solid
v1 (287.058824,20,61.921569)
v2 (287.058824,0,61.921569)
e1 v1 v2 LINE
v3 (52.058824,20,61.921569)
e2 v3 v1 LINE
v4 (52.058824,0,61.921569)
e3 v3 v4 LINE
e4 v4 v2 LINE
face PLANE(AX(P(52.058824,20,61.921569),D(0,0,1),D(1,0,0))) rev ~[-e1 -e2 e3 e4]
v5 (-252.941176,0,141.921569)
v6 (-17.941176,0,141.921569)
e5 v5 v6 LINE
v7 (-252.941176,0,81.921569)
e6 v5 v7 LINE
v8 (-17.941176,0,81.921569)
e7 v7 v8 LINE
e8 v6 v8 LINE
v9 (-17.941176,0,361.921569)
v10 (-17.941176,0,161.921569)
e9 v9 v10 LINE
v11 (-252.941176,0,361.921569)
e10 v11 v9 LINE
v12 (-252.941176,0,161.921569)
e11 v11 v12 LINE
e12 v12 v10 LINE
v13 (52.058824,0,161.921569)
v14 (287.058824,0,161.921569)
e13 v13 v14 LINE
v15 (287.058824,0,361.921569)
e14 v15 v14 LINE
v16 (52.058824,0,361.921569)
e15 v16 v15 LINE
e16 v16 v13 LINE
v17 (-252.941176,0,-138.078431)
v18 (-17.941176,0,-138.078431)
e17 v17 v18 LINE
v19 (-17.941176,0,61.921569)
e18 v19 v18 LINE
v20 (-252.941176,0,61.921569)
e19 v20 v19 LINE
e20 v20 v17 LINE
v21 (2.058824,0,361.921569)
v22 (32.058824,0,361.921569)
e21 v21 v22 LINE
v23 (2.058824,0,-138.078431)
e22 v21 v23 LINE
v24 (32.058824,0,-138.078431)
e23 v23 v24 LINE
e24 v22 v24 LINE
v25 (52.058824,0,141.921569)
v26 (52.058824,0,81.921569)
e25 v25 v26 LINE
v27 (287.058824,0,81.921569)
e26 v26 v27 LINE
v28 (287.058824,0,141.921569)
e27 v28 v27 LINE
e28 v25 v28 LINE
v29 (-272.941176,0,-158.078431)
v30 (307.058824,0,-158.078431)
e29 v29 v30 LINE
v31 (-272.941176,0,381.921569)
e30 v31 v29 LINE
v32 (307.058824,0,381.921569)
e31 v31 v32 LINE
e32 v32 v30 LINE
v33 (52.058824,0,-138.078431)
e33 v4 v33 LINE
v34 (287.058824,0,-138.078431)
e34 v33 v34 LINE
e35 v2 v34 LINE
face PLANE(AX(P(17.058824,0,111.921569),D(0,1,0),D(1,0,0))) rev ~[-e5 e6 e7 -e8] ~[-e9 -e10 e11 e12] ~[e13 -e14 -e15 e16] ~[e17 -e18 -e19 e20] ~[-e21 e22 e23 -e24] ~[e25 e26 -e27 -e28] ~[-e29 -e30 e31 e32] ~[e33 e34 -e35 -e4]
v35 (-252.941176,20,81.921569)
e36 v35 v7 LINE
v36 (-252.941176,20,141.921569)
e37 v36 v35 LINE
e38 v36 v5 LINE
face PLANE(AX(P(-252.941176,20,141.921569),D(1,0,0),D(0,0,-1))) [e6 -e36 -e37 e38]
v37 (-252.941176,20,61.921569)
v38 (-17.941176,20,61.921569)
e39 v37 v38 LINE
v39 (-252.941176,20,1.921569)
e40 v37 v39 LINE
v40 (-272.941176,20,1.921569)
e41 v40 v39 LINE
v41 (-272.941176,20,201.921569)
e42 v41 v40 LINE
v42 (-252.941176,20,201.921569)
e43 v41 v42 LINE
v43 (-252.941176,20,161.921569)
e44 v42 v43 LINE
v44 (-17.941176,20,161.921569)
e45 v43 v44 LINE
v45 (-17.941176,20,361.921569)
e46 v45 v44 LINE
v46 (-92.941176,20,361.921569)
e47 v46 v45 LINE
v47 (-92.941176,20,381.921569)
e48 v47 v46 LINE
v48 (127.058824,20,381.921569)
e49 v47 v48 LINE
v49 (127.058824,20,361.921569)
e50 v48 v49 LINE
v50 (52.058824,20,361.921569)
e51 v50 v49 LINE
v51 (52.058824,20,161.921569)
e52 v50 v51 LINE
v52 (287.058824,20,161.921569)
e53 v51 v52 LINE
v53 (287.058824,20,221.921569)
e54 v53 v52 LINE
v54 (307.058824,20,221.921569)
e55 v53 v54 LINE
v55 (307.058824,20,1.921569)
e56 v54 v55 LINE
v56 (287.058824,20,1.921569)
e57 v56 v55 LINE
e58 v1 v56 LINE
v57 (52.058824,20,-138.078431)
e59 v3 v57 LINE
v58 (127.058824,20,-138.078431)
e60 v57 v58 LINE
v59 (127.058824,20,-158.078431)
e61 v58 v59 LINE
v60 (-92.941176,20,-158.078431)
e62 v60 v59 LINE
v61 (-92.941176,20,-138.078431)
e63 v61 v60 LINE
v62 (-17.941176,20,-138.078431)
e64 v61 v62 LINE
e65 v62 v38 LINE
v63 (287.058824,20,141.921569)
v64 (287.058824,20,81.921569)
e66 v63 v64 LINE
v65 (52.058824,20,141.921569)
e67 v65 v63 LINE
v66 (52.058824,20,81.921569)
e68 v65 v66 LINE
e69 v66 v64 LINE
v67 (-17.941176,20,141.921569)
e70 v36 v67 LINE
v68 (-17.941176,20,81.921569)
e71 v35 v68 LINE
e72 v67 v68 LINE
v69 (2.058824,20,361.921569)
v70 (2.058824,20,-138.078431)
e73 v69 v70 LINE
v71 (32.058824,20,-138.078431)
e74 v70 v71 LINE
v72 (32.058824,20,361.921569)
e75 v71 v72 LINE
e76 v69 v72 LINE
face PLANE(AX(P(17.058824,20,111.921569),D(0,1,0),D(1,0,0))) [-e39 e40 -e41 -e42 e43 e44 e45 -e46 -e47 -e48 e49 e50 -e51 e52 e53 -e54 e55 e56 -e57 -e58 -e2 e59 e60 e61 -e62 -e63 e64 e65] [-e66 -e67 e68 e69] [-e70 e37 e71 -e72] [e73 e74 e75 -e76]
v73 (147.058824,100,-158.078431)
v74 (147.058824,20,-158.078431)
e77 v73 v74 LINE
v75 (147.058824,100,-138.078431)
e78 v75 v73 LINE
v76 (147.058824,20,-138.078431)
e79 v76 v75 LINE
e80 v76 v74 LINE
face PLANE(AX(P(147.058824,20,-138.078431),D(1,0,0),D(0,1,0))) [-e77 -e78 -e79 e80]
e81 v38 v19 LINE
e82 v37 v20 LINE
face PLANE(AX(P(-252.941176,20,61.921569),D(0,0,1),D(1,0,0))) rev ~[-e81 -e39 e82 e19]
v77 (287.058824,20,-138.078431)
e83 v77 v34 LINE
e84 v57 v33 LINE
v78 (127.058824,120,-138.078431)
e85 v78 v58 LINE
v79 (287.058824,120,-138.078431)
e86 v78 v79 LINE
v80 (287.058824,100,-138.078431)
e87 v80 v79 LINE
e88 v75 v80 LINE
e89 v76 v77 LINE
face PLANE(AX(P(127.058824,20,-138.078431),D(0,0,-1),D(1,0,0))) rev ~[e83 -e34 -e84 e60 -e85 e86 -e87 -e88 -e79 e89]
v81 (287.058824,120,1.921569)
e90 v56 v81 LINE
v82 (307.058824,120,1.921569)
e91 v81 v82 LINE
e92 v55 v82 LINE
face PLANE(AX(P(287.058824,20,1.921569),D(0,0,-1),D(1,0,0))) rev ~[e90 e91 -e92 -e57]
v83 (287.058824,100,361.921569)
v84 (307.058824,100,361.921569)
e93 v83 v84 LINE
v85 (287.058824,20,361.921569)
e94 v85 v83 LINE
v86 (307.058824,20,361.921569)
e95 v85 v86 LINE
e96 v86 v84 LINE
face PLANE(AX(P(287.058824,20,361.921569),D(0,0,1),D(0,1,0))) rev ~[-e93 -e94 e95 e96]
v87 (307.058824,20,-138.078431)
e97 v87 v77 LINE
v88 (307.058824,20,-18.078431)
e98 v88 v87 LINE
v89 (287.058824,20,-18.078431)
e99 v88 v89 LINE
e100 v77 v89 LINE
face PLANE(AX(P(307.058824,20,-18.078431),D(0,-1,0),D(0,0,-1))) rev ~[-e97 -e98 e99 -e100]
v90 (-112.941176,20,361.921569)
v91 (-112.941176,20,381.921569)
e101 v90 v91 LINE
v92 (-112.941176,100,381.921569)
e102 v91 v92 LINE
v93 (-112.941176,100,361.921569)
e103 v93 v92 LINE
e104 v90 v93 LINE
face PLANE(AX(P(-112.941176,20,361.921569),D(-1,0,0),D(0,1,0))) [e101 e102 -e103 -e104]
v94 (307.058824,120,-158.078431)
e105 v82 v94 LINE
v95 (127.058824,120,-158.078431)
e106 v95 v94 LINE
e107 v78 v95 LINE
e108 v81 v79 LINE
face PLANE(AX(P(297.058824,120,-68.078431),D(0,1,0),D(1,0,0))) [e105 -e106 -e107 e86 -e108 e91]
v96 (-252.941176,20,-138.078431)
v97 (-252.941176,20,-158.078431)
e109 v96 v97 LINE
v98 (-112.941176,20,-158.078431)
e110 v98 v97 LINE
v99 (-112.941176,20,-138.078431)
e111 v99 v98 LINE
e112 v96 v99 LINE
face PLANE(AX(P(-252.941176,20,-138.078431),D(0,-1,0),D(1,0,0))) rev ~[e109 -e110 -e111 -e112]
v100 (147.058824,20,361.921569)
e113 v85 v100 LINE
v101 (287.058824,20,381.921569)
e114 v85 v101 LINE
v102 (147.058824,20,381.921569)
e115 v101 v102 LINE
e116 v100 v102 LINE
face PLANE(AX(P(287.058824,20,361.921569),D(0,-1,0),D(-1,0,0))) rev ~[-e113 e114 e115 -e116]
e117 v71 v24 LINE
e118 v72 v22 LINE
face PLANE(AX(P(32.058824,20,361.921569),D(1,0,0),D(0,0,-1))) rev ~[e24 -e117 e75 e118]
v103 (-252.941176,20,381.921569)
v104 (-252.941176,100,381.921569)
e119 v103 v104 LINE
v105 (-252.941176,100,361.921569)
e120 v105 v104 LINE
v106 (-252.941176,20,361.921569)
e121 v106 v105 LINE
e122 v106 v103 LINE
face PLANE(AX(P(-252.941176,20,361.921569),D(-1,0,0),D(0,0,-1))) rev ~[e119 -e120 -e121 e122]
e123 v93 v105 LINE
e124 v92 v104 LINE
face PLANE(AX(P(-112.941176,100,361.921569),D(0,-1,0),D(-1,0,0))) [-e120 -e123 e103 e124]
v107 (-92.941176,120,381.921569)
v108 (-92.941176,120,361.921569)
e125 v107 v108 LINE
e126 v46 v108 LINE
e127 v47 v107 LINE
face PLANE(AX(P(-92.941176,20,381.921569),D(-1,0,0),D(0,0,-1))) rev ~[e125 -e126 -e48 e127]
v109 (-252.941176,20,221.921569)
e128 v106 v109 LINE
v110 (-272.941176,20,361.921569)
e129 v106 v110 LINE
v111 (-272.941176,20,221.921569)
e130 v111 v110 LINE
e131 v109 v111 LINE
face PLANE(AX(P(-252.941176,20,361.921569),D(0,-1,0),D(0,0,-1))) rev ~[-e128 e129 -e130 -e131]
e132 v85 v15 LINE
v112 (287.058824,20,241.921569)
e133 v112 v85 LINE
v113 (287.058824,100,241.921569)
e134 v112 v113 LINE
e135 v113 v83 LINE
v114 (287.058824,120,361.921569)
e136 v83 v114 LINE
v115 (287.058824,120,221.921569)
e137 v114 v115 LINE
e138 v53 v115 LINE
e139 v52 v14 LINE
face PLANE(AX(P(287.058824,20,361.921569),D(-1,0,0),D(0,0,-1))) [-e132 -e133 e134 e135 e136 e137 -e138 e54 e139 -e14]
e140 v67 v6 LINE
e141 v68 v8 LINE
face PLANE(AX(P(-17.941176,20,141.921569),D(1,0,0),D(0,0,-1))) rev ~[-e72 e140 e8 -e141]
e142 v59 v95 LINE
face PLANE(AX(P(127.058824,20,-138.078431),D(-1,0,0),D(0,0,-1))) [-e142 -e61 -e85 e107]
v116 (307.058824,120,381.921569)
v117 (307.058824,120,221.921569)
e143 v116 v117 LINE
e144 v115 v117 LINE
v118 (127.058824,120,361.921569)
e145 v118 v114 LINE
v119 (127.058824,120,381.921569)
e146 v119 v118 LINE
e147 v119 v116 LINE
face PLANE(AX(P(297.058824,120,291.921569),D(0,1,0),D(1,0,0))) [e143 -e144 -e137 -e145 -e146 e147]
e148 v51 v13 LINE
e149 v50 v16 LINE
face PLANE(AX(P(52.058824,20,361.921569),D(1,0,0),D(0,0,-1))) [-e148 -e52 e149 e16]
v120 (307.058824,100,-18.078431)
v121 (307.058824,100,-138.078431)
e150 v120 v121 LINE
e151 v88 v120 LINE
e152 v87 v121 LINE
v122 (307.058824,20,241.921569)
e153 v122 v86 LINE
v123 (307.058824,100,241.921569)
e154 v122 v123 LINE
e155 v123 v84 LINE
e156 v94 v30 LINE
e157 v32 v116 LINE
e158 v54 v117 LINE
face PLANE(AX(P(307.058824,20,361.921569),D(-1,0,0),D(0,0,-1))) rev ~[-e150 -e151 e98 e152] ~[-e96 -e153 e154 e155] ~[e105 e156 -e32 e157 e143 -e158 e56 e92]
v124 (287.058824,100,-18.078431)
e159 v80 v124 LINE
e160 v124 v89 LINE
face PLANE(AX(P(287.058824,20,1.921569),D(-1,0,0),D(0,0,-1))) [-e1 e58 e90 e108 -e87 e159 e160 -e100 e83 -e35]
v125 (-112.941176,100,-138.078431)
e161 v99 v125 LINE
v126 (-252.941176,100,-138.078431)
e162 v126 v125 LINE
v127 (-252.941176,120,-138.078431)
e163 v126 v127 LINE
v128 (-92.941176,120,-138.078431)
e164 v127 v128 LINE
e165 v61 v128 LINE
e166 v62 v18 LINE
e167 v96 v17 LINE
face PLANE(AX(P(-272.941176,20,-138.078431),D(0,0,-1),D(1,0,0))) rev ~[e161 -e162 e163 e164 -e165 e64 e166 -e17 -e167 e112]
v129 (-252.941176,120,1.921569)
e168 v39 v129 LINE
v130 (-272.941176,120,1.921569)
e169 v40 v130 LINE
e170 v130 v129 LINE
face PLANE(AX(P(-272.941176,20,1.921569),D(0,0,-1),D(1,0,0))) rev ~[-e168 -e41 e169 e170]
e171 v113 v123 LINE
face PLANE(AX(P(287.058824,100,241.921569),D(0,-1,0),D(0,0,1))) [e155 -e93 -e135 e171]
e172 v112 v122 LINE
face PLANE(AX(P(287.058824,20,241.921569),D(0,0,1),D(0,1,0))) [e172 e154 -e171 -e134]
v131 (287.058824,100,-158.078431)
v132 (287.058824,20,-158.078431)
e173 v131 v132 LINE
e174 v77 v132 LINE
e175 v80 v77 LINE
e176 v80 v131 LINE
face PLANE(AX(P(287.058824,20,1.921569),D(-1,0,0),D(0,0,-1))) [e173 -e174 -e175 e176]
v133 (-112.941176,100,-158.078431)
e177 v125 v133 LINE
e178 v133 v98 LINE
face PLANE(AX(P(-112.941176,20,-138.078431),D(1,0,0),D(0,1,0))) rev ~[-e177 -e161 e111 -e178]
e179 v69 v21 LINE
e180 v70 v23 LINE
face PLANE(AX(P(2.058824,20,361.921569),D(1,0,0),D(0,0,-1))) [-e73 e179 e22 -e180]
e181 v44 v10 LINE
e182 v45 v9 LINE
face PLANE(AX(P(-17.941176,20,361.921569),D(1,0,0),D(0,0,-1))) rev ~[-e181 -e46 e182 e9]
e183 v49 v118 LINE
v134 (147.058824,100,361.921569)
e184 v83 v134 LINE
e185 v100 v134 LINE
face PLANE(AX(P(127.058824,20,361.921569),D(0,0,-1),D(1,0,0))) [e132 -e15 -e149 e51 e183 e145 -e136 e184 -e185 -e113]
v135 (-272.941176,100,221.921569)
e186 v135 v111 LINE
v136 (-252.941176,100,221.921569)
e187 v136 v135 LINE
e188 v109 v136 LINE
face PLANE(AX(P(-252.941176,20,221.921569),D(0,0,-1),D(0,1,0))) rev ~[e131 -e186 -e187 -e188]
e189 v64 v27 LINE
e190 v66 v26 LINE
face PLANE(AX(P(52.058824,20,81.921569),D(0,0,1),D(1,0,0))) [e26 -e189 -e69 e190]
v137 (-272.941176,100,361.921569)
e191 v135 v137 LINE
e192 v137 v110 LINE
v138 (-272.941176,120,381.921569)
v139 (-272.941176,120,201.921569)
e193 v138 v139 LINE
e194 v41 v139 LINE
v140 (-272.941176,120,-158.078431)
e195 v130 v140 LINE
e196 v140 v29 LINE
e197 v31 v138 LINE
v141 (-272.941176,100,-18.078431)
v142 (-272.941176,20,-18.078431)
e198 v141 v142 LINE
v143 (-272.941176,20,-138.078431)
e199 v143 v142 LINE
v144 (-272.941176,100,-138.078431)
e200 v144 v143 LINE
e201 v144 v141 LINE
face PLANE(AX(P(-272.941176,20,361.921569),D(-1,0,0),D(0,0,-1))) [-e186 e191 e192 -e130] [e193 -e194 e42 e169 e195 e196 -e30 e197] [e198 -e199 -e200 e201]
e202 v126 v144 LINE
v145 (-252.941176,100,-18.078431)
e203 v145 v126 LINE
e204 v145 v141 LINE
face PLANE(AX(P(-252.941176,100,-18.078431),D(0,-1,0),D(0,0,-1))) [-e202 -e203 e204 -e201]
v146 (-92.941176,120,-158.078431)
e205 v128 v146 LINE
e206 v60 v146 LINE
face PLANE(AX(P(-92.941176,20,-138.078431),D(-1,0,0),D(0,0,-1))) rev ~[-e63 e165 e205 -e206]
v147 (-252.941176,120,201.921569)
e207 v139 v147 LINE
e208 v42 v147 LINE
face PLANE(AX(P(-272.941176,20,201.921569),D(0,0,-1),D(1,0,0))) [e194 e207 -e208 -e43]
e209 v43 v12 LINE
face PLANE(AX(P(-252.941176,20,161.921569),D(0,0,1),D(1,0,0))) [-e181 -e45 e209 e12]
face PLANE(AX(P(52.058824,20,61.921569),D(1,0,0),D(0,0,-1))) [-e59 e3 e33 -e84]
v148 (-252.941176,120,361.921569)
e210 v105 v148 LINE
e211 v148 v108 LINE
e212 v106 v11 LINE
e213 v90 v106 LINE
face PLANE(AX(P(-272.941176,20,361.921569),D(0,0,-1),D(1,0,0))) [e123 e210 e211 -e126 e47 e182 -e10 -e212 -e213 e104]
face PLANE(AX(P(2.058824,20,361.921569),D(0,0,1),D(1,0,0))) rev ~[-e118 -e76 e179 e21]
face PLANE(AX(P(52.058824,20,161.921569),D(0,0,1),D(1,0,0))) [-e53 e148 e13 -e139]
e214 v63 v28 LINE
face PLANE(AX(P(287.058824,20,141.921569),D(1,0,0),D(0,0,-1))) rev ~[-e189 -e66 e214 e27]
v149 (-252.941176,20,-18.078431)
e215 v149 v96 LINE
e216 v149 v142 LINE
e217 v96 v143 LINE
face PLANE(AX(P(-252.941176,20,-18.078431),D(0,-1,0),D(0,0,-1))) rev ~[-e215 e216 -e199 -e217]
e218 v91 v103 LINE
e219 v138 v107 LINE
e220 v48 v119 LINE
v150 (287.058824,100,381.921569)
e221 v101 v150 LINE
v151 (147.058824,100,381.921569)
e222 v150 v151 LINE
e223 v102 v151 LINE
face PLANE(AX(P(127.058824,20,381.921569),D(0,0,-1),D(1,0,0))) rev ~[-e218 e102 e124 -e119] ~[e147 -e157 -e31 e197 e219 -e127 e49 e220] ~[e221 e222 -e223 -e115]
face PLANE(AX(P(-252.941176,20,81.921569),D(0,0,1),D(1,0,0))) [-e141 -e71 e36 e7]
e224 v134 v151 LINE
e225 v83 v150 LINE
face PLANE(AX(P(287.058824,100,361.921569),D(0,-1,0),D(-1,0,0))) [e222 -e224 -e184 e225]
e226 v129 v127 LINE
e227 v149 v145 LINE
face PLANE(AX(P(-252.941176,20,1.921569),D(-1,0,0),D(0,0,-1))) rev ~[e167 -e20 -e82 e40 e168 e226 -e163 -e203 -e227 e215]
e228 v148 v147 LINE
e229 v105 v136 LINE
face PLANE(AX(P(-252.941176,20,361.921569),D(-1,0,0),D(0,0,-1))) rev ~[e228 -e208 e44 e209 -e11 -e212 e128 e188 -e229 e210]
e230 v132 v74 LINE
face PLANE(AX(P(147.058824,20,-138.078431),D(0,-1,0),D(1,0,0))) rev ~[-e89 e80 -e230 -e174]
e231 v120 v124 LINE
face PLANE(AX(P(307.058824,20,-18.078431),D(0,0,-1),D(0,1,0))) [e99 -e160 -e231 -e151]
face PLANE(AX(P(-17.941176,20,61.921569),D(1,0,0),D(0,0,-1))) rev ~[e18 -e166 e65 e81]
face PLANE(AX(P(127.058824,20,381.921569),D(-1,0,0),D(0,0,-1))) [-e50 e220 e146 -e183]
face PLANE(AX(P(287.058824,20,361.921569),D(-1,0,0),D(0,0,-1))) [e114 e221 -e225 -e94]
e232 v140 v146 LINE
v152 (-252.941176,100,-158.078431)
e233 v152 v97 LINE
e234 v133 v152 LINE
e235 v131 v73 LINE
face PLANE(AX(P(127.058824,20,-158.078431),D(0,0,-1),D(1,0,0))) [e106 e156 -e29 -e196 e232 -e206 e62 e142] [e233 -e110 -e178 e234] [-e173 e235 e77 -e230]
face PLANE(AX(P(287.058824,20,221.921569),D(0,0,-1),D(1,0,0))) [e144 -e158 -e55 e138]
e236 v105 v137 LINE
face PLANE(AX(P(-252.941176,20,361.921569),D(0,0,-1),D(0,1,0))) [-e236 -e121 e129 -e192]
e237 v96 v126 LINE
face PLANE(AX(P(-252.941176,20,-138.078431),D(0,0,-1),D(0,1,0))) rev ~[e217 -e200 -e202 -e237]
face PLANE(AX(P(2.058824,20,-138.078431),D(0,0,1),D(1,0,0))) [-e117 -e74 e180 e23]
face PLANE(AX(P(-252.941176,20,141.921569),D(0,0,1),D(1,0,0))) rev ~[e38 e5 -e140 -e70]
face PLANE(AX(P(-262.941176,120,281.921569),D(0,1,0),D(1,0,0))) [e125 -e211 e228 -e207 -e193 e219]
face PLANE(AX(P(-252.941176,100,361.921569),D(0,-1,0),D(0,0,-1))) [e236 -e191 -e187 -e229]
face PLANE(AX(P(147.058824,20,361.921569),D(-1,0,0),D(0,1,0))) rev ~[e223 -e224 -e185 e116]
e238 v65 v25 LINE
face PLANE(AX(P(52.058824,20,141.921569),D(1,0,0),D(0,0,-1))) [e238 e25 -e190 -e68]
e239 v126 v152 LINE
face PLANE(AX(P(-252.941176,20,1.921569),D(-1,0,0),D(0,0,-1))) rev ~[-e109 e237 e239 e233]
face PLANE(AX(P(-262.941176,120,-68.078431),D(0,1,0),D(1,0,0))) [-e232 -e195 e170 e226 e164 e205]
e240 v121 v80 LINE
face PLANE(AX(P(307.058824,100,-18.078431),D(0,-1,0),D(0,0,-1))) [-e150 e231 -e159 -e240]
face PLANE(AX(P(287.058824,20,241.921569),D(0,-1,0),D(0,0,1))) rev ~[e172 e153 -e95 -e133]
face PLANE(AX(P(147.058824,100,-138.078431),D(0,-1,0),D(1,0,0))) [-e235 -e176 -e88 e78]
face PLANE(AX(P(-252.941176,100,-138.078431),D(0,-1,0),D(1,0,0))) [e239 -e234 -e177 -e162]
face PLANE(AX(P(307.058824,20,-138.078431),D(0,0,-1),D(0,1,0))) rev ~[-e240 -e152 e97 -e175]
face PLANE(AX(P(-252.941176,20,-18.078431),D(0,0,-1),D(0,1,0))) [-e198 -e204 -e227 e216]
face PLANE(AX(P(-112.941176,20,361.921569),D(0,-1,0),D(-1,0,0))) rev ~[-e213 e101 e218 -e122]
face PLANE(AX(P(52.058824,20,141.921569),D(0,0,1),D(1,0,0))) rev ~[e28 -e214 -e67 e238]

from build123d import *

# Parameters (mm, degrees)
SKETCH_2_W           = 580
SKETCH_2_H           = 540
EXTRUDE_1_DEPTH      = 20
SKETCH_3_W           = 235
SKETCH_3_H           = 200
CUT_EXTRUDE_1_DEPTH  = 21
SKETCH_4_W           = 235
SKETCH_4_H           = 200
CUT_EXTRUDE_2_DEPTH  = 21
SKETCH_5_W           = 235
SKETCH_5_H           = 200
CUT_EXTRUDE_3_DEPTH  = 21
SKETCH_6_W           = 235
SKETCH_6_H           = 200
CUT_EXTRUDE_4_DEPTH  = 21
SKETCH_7_W           = 30
SKETCH_7_H           = 500
CUT_EXTRUDE_5_DEPTH  = 21
SKETCH_8_W           = 235
SKETCH_8_H           = 60
CUT_EXTRUDE_6_DEPTH  = 21
SKETCH_9_W           = 235
SKETCH_9_H           = 60
CUT_EXTRUDE_7_DEPTH  = 21
SKETCH_10_W          = 180
SKETCH_10_H          = 20
EXTRUDE_2_DEPTH      = 100
SKETCH_11_W          = 140
SKETCH_11_H          = 80
CUT_EXTRUDE_8_DEPTH  = 21
SKETCH_12_W          = 20
SKETCH_12_H          = 140
EXTRUDE_3_DEPTH      = 100
SKETCH_13_W          = 120
SKETCH_13_H          = 80
CUT_EXTRUDE_9_DEPTH  = 21
SKETCH_14_W          = 180
SKETCH_14_H          = 20
EXTRUDE_4_DEPTH      = 100
SKETCH_15_W          = 140
SKETCH_15_H          = 80
CUT_EXTRUDE_10_DEPTH = 21
SKETCH_17_W          = 20
SKETCH_17_H          = 160
EXTRUDE_5_DEPTH      = 100
SKETCH_18_W          = 140
SKETCH_18_H          = 80
CUT_EXTRUDE_11_DEPTH = 21
SKETCH_19_W          = 180
SKETCH_19_H          = 20
EXTRUDE_6_DEPTH      = 100
SKETCH_20_W          = 140
SKETCH_20_H          = 80
CUT_EXTRUDE_12_DEPTH = 21
SKETCH_22_W          = 20
SKETCH_22_H          = 140
EXTRUDE_7_DEPTH      = 100
SKETCH_23_W          = 120
SKETCH_23_H          = 80
CUT_EXTRUDE_13_DEPTH = 581
SKETCH_24_W          = 180
SKETCH_24_H          = 20
EXTRUDE_8_DEPTH      = 100
SKETCH_25_W          = 140
SKETCH_25_H          = 80
CUT_EXTRUDE_14_DEPTH = 100
SKETCH_26_W          = 20
SKETCH_26_H          = 140
EXTRUDE_9_DEPTH      = 100
SKETCH_27_W          = 120
SKETCH_27_H          = 80
CUT_EXTRUDE_15_DEPTH = 100


with BuildPart() as part:
    # 草图2 → 凸台-拉伸1 (new body)
    with BuildSketch(Plane(origin=(0, 0, 0), x_dir=(1, 0, 0), z_dir=(0, 1, 0))):
        with Locations((17.058823529, -111.921568627)):
            Rectangle(SKETCH_2_W, SKETCH_2_H)
    extrude(amount=EXTRUDE_1_DEPTH)

    # 草图3 → 切除-拉伸1 (cut, through all)
    with BuildSketch(Plane(origin=(0, 20, 0), x_dir=(1, 0, 0), z_dir=(0, 1, 0))):
        with Locations((-135.441176471, 38.078431373)):
            Rectangle(SKETCH_3_W, SKETCH_3_H)
    extrude(amount=-CUT_EXTRUDE_1_DEPTH, mode=Mode.SUBTRACT)

    # 草图4 → 切除-拉伸2 (cut, through all)
    with BuildSketch(Plane(origin=(0, 20, 0), x_dir=(1, 0, 0), z_dir=(0, 1, 0))):
        with Locations((169.558823529, 38.078431373)):
            Rectangle(SKETCH_4_W, SKETCH_4_H)
    extrude(amount=-CUT_EXTRUDE_2_DEPTH, mode=Mode.SUBTRACT)

    # 草图5 → 切除-拉伸3 (cut, through all)
    with BuildSketch(Plane(origin=(0, 20, 0), x_dir=(1, 0, 0), z_dir=(0, 1, 0))):
        with Locations((-135.441176471, -261.921568627)):
            Rectangle(SKETCH_5_W, SKETCH_5_H)
    extrude(amount=-CUT_EXTRUDE_3_DEPTH, mode=Mode.SUBTRACT)

    # 草图6 → 切除-拉伸4 (cut, through all)
    with BuildSketch(Plane(origin=(0, 20, 0), x_dir=(1, 0, 0), z_dir=(0, 1, 0))):
        with Locations((169.558823529, -261.921568627)):
            Rectangle(SKETCH_6_W, SKETCH_6_H)
    extrude(amount=-CUT_EXTRUDE_4_DEPTH, mode=Mode.SUBTRACT)

    # 草图7 → 切除-拉伸5 (cut, through all)
    with BuildSketch(Plane(origin=(0, 20, 0), x_dir=(1, 0, 0), z_dir=(0, 1, 0))):
        with Locations((17.058823529, -111.921568627)):
            Rectangle(SKETCH_7_W, SKETCH_7_H)
    extrude(amount=-CUT_EXTRUDE_5_DEPTH, mode=Mode.SUBTRACT)

    # 草图8 → 切除-拉伸6 (cut, through all)
    with BuildSketch(Plane(origin=(0, 20, 0), x_dir=(1, 0, 0), z_dir=(0, 1, 0))):
        with Locations((-135.441176471, -111.921568627)):
            Rectangle(SKETCH_8_W, SKETCH_8_H)
    extrude(amount=-CUT_EXTRUDE_6_DEPTH, mode=Mode.SUBTRACT)

    # 草图9 → 切除-拉伸7 (cut, through all)
    with BuildSketch(Plane(origin=(0, 20, 0), x_dir=(1, 0, 0), z_dir=(0, 1, 0))):
        with Locations((169.558823529, -111.921568627)):
            Rectangle(SKETCH_9_W, SKETCH_9_H)
    extrude(amount=-CUT_EXTRUDE_7_DEPTH, mode=Mode.SUBTRACT)

    # 草图10 → 凸台-拉伸2 (add)
    with BuildSketch(Plane(origin=(0, 20, 0), x_dir=(1, 0, 0), z_dir=(0, 1, 0))):
        with Locations((-182.941176471, 148.078431373)):
            Rectangle(SKETCH_10_W, SKETCH_10_H)
    extrude(amount=EXTRUDE_2_DEPTH)

    # 草图11 → 切除-拉伸8 (cut, through all)
    with BuildSketch(Plane.XY.offset(-138.078431373)):
        with Locations((-182.941176471, 60)):
            Rectangle(SKETCH_11_W, SKETCH_11_H)
    extrude(amount=-CUT_EXTRUDE_8_DEPTH, mode=Mode.SUBTRACT)

    # 草图12 → 凸台-拉伸3 (add)
    with BuildSketch(Plane(origin=(0, 20, 0), x_dir=(1, 0, 0), z_dir=(0, 1, 0))):
        with Locations((-262.941176471, 68.078431373)):
            Rectangle(SKETCH_12_W, SKETCH_12_H)
    extrude(amount=EXTRUDE_3_DEPTH)

    # 草图13 → 切除-拉伸9 (cut, through all)
    with BuildSketch(Plane(origin=(-252.941176471, 0, 0), x_dir=(0, 0, -1), z_dir=(1, 0, 0))):
        with Locations((78.078431373, 60)):
            Rectangle(SKETCH_13_W, SKETCH_13_H)
    extrude(amount=-CUT_EXTRUDE_9_DEPTH, mode=Mode.SUBTRACT)

    # 草图14 → 凸台-拉伸4 (add)
    with BuildSketch(Plane(origin=(0, 20, 0), x_dir=(1, 0, 0), z_dir=(0, 1, 0))):
        with Locations((-182.941176471, -371.921568627)):
            Rectangle(SKETCH_14_W, SKETCH_14_H)
    extrude(amount=EXTRUDE_4_DEPTH)

    # 草图15 → 切除-拉伸10 (cut, through all)
    with BuildSketch(Plane(origin=(0, 0, 361.921568627), x_dir=(-1, 0, 0), z_dir=(0, 0, -1))):
        with Locations((182.941176471, 60)):
            Rectangle(SKETCH_15_W, SKETCH_15_H)
    extrude(amount=-CUT_EXTRUDE_10_DEPTH, mode=Mode.SUBTRACT)

    # 草图17 → 凸台-拉伸5 (add)
    with BuildSketch(Plane(origin=(0, 20, 0), x_dir=(1, 0, 0), z_dir=(0, 1, 0))):
        with Locations((-262.941176471, -281.921568627)):
            Rectangle(SKETCH_17_W, SKETCH_17_H)
    extrude(amount=EXTRUDE_5_DEPTH)

    # 草图18 → 切除-拉伸11 (cut, through all)
    with BuildSketch(Plane(origin=(-252.941176471, 0, 0), x_dir=(0, 0, -1), z_dir=(1, 0, 0))):
        with Locations((-291.921568627, 60)):
            Rectangle(SKETCH_18_W, SKETCH_18_H)
    extrude(amount=-CUT_EXTRUDE_11_DEPTH, mode=Mode.SUBTRACT)

    # 草图19 → 凸台-拉伸6 (add)
    with BuildSketch(Plane(origin=(0, 20, 0), x_dir=(1, 0, 0), z_dir=(0, 1, 0))):
        with Locations((217.058823529, 148.078431373)):
            Rectangle(SKETCH_19_W, SKETCH_19_H)
    extrude(amount=EXTRUDE_6_DEPTH)

    # 草图20 → 切除-拉伸12 (cut, through all)
    with BuildSketch(Plane.XY.offset(-138.078431373)):
        with Locations((217.058823529, 60)):
            Rectangle(SKETCH_20_W, SKETCH_20_H)
    extrude(amount=-CUT_EXTRUDE_12_DEPTH, mode=Mode.SUBTRACT)

    # 草图22 → 凸台-拉伸7 (add)
    with BuildSketch(Plane(origin=(0, 20, 0), x_dir=(1, 0, 0), z_dir=(0, 1, 0))):
        with Locations((297.058823529, 68.078431373)):
            Rectangle(SKETCH_22_W, SKETCH_22_H)
    extrude(amount=EXTRUDE_7_DEPTH)

    # 草图23 → 切除-拉伸13 (cut, through all)
    with BuildSketch(Plane(origin=(307.058823529, 0, 0), x_dir=(0, 0, -1), z_dir=(1, 0, 0))):
        with Locations((78.078431373, 60)):
            Rectangle(SKETCH_23_W, SKETCH_23_H)
    extrude(amount=-CUT_EXTRUDE_13_DEPTH, mode=Mode.SUBTRACT)

    # 草图24 → 凸台-拉伸8 (add)
    with BuildSketch(Plane(origin=(0, 20, 0), x_dir=(1, 0, 0), z_dir=(0, 1, 0))):
        with Locations((217.058823529, -371.921568627)):
            Rectangle(SKETCH_24_W, SKETCH_24_H)
    extrude(amount=EXTRUDE_8_DEPTH)

    # 草图25 → 切除-拉伸14 (cut)
    with BuildSketch(Plane(origin=(0, 0, 361.921568627), x_dir=(-1, 0, 0), z_dir=(0, 0, -1))):
        with Locations((-217.058823529, 60)):
            Rectangle(SKETCH_25_W, SKETCH_25_H)
    extrude(amount=-CUT_EXTRUDE_14_DEPTH, mode=Mode.SUBTRACT)

    # 草图26 → 凸台-拉伸9 (add)
    with BuildSketch(Plane(origin=(0, 20, 0), x_dir=(1, 0, 0), z_dir=(0, 1, 0))):
        with Locations((297.058823529, -291.921568627)):
            Rectangle(SKETCH_26_W, SKETCH_26_H)
    extrude(amount=EXTRUDE_9_DEPTH)

    # 草图27 → 切除-拉伸15 (cut)
    with BuildSketch(Plane.ZY.offset(-287.058823529)):
        with Locations((301.921568627, 60)):
            Rectangle(SKETCH_27_W, SKETCH_27_H)
    extrude(amount=-CUT_EXTRUDE_15_DEPTH, mode=Mode.SUBTRACT)


solid = part.part
